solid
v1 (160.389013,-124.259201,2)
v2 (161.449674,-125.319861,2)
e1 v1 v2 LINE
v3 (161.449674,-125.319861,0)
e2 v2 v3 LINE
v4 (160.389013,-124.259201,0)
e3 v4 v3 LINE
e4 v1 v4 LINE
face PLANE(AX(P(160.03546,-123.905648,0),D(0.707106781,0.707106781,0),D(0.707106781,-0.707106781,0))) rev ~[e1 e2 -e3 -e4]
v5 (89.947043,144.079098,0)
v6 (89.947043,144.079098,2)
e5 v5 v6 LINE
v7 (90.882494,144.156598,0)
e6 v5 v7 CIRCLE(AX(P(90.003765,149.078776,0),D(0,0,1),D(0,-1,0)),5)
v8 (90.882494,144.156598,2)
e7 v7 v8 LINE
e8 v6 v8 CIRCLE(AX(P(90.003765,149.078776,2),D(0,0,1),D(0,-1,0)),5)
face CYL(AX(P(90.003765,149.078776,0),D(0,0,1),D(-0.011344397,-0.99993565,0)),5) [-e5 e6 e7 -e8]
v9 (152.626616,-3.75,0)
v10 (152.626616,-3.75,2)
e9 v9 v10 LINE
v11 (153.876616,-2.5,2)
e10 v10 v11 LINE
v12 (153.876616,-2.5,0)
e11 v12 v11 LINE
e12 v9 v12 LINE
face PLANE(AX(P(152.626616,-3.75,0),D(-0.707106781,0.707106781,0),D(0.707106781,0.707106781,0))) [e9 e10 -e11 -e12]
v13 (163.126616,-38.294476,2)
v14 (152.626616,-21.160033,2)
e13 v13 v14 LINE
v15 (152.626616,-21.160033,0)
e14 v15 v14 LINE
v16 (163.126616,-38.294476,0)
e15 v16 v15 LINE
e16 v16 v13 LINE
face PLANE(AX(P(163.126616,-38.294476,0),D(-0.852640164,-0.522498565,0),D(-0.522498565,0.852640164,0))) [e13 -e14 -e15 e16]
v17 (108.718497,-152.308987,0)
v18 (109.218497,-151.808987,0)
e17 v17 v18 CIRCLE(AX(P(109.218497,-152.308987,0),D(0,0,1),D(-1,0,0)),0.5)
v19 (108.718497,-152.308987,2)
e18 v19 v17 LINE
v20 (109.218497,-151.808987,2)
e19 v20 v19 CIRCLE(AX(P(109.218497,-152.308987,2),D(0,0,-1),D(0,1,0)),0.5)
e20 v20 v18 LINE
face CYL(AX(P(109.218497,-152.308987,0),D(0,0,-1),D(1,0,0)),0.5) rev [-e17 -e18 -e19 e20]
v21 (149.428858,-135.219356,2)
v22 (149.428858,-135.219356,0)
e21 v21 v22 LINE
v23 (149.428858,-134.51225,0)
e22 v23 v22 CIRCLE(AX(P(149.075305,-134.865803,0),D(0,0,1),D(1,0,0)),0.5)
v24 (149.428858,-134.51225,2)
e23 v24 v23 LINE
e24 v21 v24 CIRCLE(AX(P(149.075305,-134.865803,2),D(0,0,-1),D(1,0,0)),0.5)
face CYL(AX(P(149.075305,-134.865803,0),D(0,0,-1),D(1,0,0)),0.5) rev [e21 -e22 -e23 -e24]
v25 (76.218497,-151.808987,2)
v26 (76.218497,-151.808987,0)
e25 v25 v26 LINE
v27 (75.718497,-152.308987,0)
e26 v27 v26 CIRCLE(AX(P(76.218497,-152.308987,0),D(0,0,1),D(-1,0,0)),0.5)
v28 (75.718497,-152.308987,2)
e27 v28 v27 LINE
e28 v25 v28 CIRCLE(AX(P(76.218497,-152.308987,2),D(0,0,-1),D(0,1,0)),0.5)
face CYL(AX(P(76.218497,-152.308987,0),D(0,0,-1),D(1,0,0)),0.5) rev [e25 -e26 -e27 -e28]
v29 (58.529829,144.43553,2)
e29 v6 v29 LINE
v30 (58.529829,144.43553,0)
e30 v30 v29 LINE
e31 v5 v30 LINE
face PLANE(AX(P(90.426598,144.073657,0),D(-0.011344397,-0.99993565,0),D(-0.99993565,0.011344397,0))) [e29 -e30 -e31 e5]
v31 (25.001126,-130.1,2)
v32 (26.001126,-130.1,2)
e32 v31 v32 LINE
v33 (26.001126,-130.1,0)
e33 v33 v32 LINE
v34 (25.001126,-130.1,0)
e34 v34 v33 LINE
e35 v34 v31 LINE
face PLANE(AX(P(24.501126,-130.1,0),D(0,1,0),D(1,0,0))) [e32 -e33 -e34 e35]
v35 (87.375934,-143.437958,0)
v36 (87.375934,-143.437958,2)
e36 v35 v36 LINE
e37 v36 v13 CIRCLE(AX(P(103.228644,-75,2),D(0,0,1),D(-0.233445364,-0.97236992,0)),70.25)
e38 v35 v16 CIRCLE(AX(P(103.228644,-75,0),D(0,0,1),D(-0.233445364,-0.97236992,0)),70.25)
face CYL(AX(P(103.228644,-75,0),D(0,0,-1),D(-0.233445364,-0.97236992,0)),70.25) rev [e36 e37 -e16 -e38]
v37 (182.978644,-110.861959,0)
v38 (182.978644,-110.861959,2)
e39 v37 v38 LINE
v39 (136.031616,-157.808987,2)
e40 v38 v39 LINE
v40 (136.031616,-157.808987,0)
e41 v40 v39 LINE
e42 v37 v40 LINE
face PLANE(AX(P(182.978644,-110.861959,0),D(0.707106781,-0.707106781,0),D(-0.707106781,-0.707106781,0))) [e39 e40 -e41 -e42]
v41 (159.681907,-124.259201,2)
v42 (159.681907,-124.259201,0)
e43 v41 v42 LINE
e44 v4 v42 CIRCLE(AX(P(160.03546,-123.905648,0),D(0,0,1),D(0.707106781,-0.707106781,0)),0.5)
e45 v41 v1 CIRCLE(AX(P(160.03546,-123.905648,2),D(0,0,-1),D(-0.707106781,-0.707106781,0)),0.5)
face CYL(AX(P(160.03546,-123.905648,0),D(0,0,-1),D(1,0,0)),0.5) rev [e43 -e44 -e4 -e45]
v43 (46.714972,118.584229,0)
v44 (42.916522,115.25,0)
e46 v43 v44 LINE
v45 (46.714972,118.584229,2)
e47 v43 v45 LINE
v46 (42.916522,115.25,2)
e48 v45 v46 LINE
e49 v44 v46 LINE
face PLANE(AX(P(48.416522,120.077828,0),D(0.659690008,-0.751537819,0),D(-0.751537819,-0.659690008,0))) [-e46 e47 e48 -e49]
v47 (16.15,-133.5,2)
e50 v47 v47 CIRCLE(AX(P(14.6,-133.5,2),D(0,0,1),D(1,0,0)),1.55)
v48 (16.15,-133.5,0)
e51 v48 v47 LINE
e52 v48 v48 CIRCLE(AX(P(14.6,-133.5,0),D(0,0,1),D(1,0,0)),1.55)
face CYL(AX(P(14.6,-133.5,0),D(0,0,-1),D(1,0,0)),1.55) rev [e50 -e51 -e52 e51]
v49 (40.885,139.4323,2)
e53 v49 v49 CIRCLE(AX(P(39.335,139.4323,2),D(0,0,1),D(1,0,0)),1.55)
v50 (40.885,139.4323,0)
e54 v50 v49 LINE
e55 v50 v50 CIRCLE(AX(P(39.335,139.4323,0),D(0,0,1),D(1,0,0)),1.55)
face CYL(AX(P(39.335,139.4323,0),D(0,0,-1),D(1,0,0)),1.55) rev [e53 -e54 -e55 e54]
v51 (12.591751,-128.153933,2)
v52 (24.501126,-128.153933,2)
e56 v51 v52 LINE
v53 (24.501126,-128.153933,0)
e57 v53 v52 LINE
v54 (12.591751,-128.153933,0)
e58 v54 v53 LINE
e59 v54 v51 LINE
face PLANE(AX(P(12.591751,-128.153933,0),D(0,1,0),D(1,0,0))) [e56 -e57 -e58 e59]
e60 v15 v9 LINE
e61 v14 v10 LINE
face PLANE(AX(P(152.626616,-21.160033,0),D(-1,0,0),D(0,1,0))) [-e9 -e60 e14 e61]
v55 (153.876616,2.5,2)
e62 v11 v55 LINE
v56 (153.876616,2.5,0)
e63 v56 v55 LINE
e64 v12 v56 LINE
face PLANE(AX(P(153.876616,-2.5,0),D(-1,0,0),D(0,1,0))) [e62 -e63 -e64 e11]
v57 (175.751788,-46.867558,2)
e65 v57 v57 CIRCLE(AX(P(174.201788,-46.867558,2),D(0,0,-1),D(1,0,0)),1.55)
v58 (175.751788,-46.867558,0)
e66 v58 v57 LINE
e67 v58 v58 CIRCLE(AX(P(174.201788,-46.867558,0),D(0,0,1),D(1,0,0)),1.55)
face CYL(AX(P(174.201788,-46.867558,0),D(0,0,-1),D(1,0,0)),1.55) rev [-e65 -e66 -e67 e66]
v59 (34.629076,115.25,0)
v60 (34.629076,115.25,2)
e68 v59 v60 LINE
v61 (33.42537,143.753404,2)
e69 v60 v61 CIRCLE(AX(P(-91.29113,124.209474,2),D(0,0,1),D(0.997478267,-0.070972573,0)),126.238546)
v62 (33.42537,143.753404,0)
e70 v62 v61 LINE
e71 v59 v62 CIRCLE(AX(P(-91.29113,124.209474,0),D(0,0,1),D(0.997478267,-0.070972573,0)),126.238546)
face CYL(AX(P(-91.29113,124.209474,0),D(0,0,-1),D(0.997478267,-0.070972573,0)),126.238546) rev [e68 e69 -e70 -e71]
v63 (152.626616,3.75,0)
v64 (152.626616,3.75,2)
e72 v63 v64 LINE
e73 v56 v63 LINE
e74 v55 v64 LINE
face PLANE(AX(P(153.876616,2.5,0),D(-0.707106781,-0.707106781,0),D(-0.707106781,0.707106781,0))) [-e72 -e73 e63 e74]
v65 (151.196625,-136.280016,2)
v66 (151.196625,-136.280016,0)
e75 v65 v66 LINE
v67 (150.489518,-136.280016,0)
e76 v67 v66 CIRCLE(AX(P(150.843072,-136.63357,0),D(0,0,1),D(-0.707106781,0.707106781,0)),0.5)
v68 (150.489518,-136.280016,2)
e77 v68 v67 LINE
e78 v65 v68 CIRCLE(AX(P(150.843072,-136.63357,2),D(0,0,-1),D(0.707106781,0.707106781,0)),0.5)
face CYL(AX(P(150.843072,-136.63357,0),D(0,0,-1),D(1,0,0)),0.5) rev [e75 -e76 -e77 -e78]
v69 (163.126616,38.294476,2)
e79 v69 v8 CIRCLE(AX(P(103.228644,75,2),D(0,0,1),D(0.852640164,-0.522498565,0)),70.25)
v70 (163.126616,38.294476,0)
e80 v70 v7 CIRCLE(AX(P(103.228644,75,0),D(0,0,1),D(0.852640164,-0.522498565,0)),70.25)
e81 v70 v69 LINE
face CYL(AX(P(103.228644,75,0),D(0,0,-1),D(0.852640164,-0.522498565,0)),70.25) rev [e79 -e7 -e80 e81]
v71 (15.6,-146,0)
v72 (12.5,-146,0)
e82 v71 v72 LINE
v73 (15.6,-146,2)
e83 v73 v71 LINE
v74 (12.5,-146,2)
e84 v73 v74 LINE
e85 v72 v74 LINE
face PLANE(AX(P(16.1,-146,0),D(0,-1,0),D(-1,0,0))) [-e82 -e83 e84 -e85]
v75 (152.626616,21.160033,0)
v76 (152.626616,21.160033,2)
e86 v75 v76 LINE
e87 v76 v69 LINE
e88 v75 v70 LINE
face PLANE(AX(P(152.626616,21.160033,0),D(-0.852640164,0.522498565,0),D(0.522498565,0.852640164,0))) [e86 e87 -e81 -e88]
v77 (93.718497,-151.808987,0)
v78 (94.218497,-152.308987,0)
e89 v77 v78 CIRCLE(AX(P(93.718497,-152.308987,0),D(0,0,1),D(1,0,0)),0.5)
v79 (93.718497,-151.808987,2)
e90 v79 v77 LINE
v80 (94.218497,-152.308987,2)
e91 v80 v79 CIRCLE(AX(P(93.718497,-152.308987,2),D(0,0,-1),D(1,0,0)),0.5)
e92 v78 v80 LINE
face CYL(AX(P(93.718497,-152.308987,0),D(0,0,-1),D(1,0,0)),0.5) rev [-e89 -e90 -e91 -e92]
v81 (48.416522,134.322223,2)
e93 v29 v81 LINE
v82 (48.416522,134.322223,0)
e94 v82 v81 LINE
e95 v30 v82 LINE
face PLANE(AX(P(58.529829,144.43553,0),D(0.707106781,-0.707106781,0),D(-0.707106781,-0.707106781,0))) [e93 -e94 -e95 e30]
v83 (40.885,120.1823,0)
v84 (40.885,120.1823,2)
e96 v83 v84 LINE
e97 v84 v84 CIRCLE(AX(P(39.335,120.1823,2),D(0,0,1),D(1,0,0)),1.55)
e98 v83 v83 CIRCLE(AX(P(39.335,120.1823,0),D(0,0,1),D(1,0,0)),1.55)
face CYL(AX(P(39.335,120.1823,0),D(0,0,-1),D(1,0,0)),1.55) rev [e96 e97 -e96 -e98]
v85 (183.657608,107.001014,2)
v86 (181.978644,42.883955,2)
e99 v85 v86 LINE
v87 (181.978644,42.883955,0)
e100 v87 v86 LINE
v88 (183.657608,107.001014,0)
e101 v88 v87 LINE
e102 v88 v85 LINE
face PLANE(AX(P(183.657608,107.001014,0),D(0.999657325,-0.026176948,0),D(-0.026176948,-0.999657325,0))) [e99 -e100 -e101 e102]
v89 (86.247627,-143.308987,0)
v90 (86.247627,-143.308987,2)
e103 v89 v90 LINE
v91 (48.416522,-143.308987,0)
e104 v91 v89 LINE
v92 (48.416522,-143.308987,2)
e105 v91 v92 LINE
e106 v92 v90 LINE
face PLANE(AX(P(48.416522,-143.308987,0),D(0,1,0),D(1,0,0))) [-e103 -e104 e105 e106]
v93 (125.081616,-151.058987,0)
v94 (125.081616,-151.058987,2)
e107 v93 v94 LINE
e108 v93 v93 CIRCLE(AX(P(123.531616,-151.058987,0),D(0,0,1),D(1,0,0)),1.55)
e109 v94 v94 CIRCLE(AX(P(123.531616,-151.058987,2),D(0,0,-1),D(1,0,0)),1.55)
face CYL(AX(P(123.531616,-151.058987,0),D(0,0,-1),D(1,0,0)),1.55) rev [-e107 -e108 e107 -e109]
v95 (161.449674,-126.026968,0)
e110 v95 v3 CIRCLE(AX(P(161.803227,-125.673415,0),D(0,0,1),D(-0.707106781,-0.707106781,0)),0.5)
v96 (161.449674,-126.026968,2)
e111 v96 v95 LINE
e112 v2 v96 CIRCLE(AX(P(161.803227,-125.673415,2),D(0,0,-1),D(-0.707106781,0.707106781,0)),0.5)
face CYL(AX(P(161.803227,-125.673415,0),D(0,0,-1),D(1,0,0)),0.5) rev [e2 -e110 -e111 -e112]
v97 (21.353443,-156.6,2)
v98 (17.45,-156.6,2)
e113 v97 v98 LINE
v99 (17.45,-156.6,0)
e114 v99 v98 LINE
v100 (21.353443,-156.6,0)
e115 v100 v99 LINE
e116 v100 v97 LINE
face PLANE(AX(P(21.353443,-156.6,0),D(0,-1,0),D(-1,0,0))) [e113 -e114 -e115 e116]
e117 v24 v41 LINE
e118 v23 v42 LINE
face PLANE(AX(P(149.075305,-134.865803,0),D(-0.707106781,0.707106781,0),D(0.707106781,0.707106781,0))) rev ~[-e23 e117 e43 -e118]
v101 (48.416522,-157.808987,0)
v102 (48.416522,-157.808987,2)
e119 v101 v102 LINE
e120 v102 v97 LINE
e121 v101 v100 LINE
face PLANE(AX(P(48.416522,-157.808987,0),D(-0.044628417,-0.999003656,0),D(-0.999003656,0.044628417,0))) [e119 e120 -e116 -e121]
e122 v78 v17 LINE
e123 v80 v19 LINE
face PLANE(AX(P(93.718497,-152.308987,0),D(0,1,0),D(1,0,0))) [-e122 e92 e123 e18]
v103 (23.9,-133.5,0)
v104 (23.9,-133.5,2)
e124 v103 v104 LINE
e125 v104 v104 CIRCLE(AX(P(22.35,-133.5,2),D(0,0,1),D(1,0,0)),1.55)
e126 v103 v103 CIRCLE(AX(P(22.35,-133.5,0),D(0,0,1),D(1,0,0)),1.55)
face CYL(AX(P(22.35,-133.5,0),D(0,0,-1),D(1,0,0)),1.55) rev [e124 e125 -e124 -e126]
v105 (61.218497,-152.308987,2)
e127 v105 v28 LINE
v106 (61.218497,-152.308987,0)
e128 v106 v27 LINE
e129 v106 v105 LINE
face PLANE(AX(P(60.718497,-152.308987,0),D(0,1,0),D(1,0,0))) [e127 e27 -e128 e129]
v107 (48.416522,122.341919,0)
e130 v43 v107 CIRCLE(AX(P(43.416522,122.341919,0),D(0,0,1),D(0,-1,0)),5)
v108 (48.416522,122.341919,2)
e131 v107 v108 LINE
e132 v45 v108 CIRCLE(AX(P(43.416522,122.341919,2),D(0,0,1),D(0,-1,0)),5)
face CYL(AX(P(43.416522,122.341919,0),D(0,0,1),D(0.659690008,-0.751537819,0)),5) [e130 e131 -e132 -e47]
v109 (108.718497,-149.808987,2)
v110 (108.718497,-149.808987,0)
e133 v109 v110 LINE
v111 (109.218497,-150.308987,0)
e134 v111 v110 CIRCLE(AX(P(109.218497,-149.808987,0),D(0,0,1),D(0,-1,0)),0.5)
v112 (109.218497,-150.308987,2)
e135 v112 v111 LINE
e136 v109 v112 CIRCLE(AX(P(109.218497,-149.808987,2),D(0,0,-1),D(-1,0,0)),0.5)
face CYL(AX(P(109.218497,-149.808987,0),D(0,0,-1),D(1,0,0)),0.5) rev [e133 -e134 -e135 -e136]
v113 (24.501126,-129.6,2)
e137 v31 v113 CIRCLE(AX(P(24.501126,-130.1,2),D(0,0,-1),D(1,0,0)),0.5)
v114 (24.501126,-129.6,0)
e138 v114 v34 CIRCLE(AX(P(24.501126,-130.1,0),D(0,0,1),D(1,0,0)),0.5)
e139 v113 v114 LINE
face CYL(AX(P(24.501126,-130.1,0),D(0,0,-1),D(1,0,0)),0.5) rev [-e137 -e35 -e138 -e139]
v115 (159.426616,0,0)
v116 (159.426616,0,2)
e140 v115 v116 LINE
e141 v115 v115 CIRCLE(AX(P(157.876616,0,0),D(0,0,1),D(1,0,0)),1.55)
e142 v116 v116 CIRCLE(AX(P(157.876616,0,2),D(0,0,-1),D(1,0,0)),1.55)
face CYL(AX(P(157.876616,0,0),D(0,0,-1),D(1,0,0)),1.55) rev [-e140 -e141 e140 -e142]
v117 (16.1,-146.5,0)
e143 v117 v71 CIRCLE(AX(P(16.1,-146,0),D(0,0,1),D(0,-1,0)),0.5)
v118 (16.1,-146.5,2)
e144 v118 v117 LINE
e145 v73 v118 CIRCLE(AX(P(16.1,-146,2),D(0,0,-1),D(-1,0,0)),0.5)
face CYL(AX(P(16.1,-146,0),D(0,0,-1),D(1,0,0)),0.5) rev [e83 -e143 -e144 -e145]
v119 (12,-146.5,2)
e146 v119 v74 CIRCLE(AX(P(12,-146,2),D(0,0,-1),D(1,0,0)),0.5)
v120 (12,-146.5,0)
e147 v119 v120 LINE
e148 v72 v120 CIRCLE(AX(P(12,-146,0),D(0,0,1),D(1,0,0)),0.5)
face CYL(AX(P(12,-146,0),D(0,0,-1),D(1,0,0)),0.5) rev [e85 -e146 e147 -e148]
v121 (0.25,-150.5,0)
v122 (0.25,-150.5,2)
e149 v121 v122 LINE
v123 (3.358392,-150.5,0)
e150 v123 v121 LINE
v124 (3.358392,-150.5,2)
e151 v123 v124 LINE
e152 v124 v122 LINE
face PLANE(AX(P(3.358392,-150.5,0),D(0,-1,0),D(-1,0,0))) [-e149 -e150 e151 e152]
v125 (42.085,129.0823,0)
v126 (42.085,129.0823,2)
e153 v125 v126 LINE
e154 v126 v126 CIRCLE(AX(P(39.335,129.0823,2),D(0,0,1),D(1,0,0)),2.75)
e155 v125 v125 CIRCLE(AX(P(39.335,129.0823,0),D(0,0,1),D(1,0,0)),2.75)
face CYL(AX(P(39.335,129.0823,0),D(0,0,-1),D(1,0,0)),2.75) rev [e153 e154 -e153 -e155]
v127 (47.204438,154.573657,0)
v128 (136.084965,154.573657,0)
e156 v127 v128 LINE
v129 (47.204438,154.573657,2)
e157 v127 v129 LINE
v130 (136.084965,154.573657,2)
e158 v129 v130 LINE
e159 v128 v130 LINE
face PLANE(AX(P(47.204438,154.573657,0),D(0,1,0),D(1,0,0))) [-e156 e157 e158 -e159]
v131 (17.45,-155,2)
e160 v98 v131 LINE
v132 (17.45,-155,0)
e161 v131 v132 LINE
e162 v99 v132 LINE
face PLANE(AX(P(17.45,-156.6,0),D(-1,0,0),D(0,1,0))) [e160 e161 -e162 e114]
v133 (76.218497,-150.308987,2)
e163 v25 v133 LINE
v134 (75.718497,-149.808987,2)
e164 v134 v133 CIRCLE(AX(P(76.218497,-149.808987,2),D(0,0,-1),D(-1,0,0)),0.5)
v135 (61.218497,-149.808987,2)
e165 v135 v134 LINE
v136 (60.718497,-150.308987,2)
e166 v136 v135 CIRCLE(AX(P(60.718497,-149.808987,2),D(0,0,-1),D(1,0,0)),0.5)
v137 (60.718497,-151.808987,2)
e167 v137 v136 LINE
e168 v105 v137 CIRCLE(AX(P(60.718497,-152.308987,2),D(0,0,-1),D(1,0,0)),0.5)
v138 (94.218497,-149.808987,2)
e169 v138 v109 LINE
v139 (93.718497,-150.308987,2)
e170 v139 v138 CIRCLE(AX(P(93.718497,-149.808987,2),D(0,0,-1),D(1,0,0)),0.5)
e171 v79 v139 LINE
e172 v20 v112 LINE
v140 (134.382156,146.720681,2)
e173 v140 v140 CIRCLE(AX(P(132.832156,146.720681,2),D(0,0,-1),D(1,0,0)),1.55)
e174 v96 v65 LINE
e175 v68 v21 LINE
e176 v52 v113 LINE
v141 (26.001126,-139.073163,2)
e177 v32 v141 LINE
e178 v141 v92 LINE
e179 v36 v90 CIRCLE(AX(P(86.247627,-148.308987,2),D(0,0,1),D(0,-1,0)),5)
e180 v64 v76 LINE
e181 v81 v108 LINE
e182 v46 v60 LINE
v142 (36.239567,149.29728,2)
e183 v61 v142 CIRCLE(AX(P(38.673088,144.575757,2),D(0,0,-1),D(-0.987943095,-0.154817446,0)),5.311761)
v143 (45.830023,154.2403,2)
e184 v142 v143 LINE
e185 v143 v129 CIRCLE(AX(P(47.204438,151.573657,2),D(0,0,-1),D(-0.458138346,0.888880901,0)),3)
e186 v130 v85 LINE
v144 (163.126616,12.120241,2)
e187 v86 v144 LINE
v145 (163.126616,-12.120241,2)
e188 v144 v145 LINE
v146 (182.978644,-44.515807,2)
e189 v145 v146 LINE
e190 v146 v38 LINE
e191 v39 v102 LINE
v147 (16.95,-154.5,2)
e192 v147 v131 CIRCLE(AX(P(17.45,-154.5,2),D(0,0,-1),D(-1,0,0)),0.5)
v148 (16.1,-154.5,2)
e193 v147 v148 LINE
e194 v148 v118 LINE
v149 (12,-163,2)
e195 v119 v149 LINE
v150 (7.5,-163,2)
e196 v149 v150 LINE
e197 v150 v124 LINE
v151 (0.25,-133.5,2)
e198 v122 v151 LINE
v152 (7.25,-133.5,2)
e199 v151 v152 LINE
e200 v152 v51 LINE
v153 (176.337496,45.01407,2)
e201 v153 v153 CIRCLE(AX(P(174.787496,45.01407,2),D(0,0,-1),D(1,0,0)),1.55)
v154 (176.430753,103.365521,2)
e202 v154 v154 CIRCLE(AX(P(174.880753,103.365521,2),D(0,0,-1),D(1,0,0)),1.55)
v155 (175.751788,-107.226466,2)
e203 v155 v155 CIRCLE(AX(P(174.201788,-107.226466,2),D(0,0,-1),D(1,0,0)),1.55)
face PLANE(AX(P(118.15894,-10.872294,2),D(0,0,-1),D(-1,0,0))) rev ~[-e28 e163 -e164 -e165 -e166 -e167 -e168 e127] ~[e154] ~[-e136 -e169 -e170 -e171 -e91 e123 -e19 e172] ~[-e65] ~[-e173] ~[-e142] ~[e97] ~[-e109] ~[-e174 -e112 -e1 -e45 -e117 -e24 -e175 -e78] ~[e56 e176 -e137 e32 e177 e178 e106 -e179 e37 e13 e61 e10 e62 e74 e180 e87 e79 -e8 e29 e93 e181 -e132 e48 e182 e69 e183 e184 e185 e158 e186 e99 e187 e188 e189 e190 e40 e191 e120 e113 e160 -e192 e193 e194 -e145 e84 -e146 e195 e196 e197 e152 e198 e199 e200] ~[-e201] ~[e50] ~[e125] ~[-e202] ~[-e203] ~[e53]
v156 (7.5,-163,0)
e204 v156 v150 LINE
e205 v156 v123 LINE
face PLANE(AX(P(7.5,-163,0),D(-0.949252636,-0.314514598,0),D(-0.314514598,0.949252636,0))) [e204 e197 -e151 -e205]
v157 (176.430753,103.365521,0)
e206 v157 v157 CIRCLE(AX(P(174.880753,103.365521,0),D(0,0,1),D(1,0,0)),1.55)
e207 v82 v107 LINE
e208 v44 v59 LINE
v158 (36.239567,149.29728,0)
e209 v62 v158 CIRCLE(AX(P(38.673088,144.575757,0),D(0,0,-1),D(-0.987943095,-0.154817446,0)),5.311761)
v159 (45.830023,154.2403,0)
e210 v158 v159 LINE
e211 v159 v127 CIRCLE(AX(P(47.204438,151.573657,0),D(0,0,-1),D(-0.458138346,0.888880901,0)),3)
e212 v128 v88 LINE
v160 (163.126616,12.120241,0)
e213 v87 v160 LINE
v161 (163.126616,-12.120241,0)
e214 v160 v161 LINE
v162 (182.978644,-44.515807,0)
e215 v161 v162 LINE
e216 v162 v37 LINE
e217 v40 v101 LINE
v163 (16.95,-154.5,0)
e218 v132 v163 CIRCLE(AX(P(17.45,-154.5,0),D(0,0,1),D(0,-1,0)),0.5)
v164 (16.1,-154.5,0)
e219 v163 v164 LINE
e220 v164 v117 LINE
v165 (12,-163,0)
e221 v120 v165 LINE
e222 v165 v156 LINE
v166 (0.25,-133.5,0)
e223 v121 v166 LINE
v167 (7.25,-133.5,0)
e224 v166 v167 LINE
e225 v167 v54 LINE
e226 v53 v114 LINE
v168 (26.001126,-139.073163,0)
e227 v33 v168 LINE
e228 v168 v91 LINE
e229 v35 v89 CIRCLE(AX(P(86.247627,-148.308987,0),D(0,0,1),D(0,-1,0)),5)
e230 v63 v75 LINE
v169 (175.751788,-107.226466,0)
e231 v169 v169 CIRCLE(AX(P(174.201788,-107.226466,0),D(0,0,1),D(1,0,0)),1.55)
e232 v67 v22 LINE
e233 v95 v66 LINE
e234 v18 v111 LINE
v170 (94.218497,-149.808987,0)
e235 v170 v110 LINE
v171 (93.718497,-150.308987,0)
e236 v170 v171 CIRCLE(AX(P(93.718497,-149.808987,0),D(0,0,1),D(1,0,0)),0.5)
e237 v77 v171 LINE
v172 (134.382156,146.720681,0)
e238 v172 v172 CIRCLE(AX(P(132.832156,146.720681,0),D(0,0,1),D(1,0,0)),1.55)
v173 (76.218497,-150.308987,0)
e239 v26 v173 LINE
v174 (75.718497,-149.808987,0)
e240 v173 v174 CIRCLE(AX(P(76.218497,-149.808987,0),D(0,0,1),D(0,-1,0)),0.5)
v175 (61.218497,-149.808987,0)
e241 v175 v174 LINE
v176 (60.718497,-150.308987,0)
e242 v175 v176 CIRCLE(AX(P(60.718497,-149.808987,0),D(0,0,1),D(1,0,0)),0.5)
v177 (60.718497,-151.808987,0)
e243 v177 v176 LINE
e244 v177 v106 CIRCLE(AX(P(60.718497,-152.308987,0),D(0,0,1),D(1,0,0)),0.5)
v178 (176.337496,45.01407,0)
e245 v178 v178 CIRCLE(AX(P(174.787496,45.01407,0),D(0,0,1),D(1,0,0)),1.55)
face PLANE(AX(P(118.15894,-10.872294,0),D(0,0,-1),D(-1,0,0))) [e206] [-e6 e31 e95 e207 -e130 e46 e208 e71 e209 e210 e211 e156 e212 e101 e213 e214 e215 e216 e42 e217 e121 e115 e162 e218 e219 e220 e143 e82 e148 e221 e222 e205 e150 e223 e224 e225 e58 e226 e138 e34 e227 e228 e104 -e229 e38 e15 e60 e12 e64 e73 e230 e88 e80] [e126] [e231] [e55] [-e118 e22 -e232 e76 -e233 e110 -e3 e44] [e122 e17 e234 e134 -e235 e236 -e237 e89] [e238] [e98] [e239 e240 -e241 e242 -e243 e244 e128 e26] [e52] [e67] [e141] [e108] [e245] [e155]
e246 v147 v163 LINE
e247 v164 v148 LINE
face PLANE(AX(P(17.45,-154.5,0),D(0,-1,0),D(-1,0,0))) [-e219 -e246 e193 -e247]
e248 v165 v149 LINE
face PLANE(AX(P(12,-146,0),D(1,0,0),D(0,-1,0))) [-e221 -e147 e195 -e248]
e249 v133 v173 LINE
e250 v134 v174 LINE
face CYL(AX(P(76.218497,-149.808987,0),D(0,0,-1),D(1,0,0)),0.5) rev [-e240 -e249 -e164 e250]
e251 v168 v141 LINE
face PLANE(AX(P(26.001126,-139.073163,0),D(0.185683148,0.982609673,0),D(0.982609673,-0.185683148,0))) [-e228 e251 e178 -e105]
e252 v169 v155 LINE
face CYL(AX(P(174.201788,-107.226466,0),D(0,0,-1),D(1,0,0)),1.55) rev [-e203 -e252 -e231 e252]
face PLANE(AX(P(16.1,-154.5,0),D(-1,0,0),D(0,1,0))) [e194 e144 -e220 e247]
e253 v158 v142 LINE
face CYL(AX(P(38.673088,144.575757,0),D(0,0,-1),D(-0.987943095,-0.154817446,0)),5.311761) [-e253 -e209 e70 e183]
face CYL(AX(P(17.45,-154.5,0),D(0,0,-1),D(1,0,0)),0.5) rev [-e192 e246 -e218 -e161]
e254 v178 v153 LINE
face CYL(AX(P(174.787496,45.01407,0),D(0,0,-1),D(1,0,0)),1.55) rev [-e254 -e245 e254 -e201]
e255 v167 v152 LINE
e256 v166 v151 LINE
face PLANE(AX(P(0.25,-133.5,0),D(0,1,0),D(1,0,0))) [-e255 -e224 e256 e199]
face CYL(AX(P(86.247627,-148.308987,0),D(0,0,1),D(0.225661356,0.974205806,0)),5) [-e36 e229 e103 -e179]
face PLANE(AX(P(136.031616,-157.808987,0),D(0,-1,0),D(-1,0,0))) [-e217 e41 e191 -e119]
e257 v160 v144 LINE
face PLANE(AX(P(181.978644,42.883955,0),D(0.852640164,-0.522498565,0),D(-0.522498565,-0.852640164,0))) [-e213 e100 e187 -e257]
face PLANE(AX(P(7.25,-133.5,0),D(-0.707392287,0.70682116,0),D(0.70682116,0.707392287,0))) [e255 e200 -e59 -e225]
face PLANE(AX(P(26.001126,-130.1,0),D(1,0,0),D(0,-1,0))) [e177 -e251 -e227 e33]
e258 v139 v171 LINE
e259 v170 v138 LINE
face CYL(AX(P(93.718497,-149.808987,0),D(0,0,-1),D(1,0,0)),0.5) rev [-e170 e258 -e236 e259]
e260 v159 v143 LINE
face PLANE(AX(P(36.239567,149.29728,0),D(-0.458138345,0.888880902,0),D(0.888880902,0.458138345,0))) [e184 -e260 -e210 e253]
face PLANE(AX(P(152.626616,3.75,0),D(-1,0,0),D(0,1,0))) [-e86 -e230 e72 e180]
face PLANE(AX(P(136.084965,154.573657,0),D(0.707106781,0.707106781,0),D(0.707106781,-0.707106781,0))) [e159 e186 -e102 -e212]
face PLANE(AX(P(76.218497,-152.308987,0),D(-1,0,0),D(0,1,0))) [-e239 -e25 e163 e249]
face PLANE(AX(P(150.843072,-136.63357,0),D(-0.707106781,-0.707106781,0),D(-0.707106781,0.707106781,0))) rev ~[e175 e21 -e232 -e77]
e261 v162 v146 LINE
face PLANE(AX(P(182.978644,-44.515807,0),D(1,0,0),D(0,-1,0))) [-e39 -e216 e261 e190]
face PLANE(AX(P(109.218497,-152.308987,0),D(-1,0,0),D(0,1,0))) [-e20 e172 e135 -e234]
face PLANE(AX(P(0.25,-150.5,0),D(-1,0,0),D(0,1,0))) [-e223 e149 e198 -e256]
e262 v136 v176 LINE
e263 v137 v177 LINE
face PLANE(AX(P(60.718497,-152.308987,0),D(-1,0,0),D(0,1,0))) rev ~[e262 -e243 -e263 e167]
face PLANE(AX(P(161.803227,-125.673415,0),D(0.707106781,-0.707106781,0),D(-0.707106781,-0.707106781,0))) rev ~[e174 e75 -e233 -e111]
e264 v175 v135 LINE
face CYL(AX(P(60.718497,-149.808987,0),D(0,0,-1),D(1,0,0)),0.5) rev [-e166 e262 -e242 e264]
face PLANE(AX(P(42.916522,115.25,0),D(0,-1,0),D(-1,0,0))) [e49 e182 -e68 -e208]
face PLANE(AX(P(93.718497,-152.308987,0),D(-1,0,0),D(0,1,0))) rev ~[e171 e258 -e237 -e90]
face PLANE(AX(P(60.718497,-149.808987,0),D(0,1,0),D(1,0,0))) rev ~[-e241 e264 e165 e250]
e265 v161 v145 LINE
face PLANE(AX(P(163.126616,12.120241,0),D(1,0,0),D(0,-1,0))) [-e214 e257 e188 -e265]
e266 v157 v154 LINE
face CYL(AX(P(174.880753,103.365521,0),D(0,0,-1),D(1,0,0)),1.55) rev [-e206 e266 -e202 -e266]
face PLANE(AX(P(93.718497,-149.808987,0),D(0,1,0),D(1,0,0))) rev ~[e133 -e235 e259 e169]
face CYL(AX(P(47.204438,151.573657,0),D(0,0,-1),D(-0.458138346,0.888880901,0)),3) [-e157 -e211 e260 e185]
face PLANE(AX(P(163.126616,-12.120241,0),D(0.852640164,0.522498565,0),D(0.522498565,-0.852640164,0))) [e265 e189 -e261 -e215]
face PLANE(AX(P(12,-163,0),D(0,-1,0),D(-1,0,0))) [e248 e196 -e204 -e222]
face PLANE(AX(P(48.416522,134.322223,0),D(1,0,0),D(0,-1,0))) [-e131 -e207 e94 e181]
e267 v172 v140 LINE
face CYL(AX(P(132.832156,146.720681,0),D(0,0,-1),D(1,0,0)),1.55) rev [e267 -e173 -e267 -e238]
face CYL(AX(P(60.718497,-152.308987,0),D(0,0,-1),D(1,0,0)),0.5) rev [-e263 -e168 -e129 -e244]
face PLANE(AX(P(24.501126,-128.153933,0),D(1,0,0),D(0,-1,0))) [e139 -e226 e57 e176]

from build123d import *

# Parameters (mm, degrees)
SKETCH_6441_R           = 1.55
SKETCH_6441_R_2         = 2.75
EXTRUDE_13625_DEPTH     = 2
FILLET_13791_R          = 5
SKETCH_13989_W          = 15.5
SKETCH_13989_H          = 2.5
CUT_EXTRUDE_14254_DEPTH = 246.566929957
SKETCH_14301_R          = 1.55
CUT_EXTRUDE_14313_DEPTH = 246.566929957
SKETCH_14441_R          = 0.5
CUT_EXTRUDE_14789_DEPTH = 246.566929957


with BuildPart() as part:
    # Sketch 6441 → Extrude 13625 (new body)
    with BuildSketch(Plane.XY):
        with BuildLine():
            Line((183.657608305, 107.001013939), (136.084964988, 154.573657256))
            Line((136.084964988, 154.573657256), (47.204437863, 154.573657256))
            ThreePointArc((47.204437863, 154.573657256), (46.497305667, 154.48912704), (45.830022829, 154.240299961))
            Line((45.830022829, 154.240299961), (36.239566526, 149.297280299))
            ThreePointArc((36.239566526, 149.297280299), (33.93663348, 146.980087891), (33.42537009, 143.753403677))
            ThreePointArc((33.42537009, 143.753403677), (34.835, 129.535814466), (34.629076425, 115.25))
            Line((34.629076425, 115.25), (42.916521639, 115.25))
            Line((42.916521639, 115.25), (48.416521639, 120.077827626))
            Line((48.416521639, 120.077827626), (48.416521639, 134.322222666))
            Line((48.416521639, 134.322222666), (58.529829123, 144.43553015))
            Line((58.529829123, 144.43553015), (90.426598369, 144.073657256))
            ThreePointArc((90.426598369, 144.073657256), (161.123508786, 114.790038144), (163.126615581, 38.294475829))
            Line((163.126615581, 38.294475829), (152.626615581, 21.160033114))
            Line((152.626615581, 21.160033114), (152.626615581, 3.75))
            Line((152.626615581, 3.75), (153.876615581, 2.5))
            Line((153.876615581, 2.5), (153.876615581, -2.5))
            Line((153.876615581, -2.5), (152.626615581, -3.75))
            Line((152.626615581, -3.75), (152.626615581, -21.160033114))
            Line((152.626615581, -21.160033114), (163.126615581, -38.294475829))
            ThreePointArc((163.126615581, -38.294475829), (160.06208789, -116.291913973), (86.829107225, -143.308986908))
            Line((86.829107225, -143.308986908), (48.416521639, -143.308986908))
            Line((48.416521639, -143.308986908), (26.001126091, -139.07316335))
            Line((26.001126091, -139.07316335), (26.001126091, -130.1))
            Line((26.001126091, -130.1), (24.501126091, -130.1))
            Line((24.501126091, -130.1), (24.501126091, -128.153933031))
            Line((24.501126091, -128.153933031), (12.591750717, -128.153933031))
            Line((12.591750717, -128.153933031), (7.25, -133.5))
            Line((7.25, -133.5), (0.25, -133.5))
            Line((0.25, -133.5), (0.25, -150.5))
            Line((0.25, -150.5), (3.358391833, -150.5))
            Line((3.358391833, -150.5), (7.5, -163))
            Line((7.5, -163), (12, -163))
            Line((12, -163), (12, -146))
            Line((12, -146), (16.1, -146))
            Line((16.1, -146), (16.1, -154.5))
            Line((16.1, -154.5), (17.45, -154.5))
            Line((17.45, -154.5), (17.45, -156.6))
            Line((17.45, -156.6), (21.353443149, -156.6))
            Line((21.353443149, -156.6), (48.416521639, -157.808986908))
            Line((48.416521639, -157.808986908), (136.031615851, -157.808986908))
            Line((136.031615851, -157.808986908), (182.978644035, -110.861958724))
            Line((182.978644035, -110.861958724), (182.978644035, -44.515806956))
            Line((182.978644035, -44.515806956), (163.126615581, -12.12024083))
            Line((163.126615581, -12.12024083), (163.126615581, 12.12024083))
            Line((163.126615581, 12.12024083), (181.978644035, 42.883955268))
            Line((181.978644035, 42.883955268), (183.657608305, 107.001013939))
        make_face()
        with Locations((14.6, -133.5)):
            Circle(SKETCH_6441_R, mode=Mode.SUBTRACT)
        with Locations((22.35, -133.5)):
            Circle(SKETCH_6441_R, mode=Mode.SUBTRACT)
        with Locations((39.335, 120.1823004)):
            Circle(SKETCH_6441_R, mode=Mode.SUBTRACT)
        with Locations((39.335, 129.0823004)):
            Circle(SKETCH_6441_R_2, mode=Mode.SUBTRACT)
        with Locations((39.335, 139.4323004)):
            Circle(SKETCH_6441_R, mode=Mode.SUBTRACT)
    extrude(amount=EXTRUDE_13625_DEPTH)

    # Fillet 13791
    fillet_13791_edges = [part.edges().sort_by_distance(p)[0] for p in [
        (86.829107225, -143.308986908, 1),
        (48.416521639, 120.077827626, 1),
        (90.426598369, 144.073657256, 1),
    ]]
    fillet(fillet_13791_edges, radius=FILLET_13791_R)

    # Sketch 13989 → Cut-Extrude 14254 (cut, through all)
    with BuildSketch(Plane.XY):
        Polygon((149.075304921, -134.865802902), (160.035460029, -123.905647794), (161.803226982, -125.673414746), (150.843071874, -136.633569855), align=None)
        with Locations((68.468496842, -151.058986908)):
            Rectangle(SKETCH_13989_W, SKETCH_13989_H)
        with Locations((101.468496842, -151.058986908)):
            Rectangle(SKETCH_13989_W, SKETCH_13989_H)
    extrude(amount=CUT_EXTRUDE_14254_DEPTH, mode=Mode.SUBTRACT)

    # Sketch 14301 → Cut-Extrude 14313 (cut, through all)
    with BuildSketch(Plane.XY):
        with Locations((157.876615581, 0)):
            Circle(SKETCH_14301_R)
        with Locations((174.201788477, -107.226466117)):
            Circle(SKETCH_14301_R)
        with Locations((123.531615851, -151.058986908)):
            Circle(SKETCH_14301_R)
        with Locations((174.880752746, 103.365521332)):
            Circle(SKETCH_14301_R)
        with Locations((132.832155813, 146.72068123)):
            Circle(SKETCH_14301_R)
        with Locations((174.201788477, -46.867558315)):
            Circle(SKETCH_14301_R)
        with Locations((174.787496024, 45.014070354)):
            Circle(SKETCH_14301_R)
    extrude(amount=CUT_EXTRUDE_14313_DEPTH, mode=Mode.SUBTRACT)

    # Sketch 14441 → Cut-Extrude 14789 (cut, through all)
    with BuildSketch(Plane.XY):
        with Locations((60.718496842, -149.808986908)):
            Circle(SKETCH_14441_R)
        with Locations((60.718496842, -152.308986908)):
            Circle(SKETCH_14441_R)
        with Locations((76.218496842, -152.308986908)):
            Circle(SKETCH_14441_R)
        with Locations((76.218496842, -149.808986908)):
            Circle(SKETCH_14441_R)
        with Locations((93.718496842, -149.808986908)):
            Circle(SKETCH_14441_R)
        with Locations((93.718496842, -152.308986908)):
            Circle(SKETCH_14441_R)
        with Locations((109.218496842, -152.308986908)):
            Circle(SKETCH_14441_R)
        with Locations((109.218496842, -149.808986908)):
            Circle(SKETCH_14441_R)
        with Locations((149.075304921, -134.865802902)):
            Circle(SKETCH_14441_R)
        with Locations((150.843071874, -136.633569855)):
            Circle(SKETCH_14441_R)
        with Locations((160.035460029, -123.905647794)):
            Circle(SKETCH_14441_R)
        with Locations((161.803226982, -125.673414746)):
            Circle(SKETCH_14441_R)
        with Locations((12, -146)):
            Circle(SKETCH_14441_R)
        with Locations((16.1, -146)):
            Circle(SKETCH_14441_R)
        with Locations((17.45, -154.5)):
            Circle(SKETCH_14441_R)
        with Locations((24.501126091, -130.1)):
            Circle(SKETCH_14441_R)
    extrude(amount=CUT_EXTRUDE_14789_DEPTH, mode=Mode.SUBTRACT)


solid = part.part
